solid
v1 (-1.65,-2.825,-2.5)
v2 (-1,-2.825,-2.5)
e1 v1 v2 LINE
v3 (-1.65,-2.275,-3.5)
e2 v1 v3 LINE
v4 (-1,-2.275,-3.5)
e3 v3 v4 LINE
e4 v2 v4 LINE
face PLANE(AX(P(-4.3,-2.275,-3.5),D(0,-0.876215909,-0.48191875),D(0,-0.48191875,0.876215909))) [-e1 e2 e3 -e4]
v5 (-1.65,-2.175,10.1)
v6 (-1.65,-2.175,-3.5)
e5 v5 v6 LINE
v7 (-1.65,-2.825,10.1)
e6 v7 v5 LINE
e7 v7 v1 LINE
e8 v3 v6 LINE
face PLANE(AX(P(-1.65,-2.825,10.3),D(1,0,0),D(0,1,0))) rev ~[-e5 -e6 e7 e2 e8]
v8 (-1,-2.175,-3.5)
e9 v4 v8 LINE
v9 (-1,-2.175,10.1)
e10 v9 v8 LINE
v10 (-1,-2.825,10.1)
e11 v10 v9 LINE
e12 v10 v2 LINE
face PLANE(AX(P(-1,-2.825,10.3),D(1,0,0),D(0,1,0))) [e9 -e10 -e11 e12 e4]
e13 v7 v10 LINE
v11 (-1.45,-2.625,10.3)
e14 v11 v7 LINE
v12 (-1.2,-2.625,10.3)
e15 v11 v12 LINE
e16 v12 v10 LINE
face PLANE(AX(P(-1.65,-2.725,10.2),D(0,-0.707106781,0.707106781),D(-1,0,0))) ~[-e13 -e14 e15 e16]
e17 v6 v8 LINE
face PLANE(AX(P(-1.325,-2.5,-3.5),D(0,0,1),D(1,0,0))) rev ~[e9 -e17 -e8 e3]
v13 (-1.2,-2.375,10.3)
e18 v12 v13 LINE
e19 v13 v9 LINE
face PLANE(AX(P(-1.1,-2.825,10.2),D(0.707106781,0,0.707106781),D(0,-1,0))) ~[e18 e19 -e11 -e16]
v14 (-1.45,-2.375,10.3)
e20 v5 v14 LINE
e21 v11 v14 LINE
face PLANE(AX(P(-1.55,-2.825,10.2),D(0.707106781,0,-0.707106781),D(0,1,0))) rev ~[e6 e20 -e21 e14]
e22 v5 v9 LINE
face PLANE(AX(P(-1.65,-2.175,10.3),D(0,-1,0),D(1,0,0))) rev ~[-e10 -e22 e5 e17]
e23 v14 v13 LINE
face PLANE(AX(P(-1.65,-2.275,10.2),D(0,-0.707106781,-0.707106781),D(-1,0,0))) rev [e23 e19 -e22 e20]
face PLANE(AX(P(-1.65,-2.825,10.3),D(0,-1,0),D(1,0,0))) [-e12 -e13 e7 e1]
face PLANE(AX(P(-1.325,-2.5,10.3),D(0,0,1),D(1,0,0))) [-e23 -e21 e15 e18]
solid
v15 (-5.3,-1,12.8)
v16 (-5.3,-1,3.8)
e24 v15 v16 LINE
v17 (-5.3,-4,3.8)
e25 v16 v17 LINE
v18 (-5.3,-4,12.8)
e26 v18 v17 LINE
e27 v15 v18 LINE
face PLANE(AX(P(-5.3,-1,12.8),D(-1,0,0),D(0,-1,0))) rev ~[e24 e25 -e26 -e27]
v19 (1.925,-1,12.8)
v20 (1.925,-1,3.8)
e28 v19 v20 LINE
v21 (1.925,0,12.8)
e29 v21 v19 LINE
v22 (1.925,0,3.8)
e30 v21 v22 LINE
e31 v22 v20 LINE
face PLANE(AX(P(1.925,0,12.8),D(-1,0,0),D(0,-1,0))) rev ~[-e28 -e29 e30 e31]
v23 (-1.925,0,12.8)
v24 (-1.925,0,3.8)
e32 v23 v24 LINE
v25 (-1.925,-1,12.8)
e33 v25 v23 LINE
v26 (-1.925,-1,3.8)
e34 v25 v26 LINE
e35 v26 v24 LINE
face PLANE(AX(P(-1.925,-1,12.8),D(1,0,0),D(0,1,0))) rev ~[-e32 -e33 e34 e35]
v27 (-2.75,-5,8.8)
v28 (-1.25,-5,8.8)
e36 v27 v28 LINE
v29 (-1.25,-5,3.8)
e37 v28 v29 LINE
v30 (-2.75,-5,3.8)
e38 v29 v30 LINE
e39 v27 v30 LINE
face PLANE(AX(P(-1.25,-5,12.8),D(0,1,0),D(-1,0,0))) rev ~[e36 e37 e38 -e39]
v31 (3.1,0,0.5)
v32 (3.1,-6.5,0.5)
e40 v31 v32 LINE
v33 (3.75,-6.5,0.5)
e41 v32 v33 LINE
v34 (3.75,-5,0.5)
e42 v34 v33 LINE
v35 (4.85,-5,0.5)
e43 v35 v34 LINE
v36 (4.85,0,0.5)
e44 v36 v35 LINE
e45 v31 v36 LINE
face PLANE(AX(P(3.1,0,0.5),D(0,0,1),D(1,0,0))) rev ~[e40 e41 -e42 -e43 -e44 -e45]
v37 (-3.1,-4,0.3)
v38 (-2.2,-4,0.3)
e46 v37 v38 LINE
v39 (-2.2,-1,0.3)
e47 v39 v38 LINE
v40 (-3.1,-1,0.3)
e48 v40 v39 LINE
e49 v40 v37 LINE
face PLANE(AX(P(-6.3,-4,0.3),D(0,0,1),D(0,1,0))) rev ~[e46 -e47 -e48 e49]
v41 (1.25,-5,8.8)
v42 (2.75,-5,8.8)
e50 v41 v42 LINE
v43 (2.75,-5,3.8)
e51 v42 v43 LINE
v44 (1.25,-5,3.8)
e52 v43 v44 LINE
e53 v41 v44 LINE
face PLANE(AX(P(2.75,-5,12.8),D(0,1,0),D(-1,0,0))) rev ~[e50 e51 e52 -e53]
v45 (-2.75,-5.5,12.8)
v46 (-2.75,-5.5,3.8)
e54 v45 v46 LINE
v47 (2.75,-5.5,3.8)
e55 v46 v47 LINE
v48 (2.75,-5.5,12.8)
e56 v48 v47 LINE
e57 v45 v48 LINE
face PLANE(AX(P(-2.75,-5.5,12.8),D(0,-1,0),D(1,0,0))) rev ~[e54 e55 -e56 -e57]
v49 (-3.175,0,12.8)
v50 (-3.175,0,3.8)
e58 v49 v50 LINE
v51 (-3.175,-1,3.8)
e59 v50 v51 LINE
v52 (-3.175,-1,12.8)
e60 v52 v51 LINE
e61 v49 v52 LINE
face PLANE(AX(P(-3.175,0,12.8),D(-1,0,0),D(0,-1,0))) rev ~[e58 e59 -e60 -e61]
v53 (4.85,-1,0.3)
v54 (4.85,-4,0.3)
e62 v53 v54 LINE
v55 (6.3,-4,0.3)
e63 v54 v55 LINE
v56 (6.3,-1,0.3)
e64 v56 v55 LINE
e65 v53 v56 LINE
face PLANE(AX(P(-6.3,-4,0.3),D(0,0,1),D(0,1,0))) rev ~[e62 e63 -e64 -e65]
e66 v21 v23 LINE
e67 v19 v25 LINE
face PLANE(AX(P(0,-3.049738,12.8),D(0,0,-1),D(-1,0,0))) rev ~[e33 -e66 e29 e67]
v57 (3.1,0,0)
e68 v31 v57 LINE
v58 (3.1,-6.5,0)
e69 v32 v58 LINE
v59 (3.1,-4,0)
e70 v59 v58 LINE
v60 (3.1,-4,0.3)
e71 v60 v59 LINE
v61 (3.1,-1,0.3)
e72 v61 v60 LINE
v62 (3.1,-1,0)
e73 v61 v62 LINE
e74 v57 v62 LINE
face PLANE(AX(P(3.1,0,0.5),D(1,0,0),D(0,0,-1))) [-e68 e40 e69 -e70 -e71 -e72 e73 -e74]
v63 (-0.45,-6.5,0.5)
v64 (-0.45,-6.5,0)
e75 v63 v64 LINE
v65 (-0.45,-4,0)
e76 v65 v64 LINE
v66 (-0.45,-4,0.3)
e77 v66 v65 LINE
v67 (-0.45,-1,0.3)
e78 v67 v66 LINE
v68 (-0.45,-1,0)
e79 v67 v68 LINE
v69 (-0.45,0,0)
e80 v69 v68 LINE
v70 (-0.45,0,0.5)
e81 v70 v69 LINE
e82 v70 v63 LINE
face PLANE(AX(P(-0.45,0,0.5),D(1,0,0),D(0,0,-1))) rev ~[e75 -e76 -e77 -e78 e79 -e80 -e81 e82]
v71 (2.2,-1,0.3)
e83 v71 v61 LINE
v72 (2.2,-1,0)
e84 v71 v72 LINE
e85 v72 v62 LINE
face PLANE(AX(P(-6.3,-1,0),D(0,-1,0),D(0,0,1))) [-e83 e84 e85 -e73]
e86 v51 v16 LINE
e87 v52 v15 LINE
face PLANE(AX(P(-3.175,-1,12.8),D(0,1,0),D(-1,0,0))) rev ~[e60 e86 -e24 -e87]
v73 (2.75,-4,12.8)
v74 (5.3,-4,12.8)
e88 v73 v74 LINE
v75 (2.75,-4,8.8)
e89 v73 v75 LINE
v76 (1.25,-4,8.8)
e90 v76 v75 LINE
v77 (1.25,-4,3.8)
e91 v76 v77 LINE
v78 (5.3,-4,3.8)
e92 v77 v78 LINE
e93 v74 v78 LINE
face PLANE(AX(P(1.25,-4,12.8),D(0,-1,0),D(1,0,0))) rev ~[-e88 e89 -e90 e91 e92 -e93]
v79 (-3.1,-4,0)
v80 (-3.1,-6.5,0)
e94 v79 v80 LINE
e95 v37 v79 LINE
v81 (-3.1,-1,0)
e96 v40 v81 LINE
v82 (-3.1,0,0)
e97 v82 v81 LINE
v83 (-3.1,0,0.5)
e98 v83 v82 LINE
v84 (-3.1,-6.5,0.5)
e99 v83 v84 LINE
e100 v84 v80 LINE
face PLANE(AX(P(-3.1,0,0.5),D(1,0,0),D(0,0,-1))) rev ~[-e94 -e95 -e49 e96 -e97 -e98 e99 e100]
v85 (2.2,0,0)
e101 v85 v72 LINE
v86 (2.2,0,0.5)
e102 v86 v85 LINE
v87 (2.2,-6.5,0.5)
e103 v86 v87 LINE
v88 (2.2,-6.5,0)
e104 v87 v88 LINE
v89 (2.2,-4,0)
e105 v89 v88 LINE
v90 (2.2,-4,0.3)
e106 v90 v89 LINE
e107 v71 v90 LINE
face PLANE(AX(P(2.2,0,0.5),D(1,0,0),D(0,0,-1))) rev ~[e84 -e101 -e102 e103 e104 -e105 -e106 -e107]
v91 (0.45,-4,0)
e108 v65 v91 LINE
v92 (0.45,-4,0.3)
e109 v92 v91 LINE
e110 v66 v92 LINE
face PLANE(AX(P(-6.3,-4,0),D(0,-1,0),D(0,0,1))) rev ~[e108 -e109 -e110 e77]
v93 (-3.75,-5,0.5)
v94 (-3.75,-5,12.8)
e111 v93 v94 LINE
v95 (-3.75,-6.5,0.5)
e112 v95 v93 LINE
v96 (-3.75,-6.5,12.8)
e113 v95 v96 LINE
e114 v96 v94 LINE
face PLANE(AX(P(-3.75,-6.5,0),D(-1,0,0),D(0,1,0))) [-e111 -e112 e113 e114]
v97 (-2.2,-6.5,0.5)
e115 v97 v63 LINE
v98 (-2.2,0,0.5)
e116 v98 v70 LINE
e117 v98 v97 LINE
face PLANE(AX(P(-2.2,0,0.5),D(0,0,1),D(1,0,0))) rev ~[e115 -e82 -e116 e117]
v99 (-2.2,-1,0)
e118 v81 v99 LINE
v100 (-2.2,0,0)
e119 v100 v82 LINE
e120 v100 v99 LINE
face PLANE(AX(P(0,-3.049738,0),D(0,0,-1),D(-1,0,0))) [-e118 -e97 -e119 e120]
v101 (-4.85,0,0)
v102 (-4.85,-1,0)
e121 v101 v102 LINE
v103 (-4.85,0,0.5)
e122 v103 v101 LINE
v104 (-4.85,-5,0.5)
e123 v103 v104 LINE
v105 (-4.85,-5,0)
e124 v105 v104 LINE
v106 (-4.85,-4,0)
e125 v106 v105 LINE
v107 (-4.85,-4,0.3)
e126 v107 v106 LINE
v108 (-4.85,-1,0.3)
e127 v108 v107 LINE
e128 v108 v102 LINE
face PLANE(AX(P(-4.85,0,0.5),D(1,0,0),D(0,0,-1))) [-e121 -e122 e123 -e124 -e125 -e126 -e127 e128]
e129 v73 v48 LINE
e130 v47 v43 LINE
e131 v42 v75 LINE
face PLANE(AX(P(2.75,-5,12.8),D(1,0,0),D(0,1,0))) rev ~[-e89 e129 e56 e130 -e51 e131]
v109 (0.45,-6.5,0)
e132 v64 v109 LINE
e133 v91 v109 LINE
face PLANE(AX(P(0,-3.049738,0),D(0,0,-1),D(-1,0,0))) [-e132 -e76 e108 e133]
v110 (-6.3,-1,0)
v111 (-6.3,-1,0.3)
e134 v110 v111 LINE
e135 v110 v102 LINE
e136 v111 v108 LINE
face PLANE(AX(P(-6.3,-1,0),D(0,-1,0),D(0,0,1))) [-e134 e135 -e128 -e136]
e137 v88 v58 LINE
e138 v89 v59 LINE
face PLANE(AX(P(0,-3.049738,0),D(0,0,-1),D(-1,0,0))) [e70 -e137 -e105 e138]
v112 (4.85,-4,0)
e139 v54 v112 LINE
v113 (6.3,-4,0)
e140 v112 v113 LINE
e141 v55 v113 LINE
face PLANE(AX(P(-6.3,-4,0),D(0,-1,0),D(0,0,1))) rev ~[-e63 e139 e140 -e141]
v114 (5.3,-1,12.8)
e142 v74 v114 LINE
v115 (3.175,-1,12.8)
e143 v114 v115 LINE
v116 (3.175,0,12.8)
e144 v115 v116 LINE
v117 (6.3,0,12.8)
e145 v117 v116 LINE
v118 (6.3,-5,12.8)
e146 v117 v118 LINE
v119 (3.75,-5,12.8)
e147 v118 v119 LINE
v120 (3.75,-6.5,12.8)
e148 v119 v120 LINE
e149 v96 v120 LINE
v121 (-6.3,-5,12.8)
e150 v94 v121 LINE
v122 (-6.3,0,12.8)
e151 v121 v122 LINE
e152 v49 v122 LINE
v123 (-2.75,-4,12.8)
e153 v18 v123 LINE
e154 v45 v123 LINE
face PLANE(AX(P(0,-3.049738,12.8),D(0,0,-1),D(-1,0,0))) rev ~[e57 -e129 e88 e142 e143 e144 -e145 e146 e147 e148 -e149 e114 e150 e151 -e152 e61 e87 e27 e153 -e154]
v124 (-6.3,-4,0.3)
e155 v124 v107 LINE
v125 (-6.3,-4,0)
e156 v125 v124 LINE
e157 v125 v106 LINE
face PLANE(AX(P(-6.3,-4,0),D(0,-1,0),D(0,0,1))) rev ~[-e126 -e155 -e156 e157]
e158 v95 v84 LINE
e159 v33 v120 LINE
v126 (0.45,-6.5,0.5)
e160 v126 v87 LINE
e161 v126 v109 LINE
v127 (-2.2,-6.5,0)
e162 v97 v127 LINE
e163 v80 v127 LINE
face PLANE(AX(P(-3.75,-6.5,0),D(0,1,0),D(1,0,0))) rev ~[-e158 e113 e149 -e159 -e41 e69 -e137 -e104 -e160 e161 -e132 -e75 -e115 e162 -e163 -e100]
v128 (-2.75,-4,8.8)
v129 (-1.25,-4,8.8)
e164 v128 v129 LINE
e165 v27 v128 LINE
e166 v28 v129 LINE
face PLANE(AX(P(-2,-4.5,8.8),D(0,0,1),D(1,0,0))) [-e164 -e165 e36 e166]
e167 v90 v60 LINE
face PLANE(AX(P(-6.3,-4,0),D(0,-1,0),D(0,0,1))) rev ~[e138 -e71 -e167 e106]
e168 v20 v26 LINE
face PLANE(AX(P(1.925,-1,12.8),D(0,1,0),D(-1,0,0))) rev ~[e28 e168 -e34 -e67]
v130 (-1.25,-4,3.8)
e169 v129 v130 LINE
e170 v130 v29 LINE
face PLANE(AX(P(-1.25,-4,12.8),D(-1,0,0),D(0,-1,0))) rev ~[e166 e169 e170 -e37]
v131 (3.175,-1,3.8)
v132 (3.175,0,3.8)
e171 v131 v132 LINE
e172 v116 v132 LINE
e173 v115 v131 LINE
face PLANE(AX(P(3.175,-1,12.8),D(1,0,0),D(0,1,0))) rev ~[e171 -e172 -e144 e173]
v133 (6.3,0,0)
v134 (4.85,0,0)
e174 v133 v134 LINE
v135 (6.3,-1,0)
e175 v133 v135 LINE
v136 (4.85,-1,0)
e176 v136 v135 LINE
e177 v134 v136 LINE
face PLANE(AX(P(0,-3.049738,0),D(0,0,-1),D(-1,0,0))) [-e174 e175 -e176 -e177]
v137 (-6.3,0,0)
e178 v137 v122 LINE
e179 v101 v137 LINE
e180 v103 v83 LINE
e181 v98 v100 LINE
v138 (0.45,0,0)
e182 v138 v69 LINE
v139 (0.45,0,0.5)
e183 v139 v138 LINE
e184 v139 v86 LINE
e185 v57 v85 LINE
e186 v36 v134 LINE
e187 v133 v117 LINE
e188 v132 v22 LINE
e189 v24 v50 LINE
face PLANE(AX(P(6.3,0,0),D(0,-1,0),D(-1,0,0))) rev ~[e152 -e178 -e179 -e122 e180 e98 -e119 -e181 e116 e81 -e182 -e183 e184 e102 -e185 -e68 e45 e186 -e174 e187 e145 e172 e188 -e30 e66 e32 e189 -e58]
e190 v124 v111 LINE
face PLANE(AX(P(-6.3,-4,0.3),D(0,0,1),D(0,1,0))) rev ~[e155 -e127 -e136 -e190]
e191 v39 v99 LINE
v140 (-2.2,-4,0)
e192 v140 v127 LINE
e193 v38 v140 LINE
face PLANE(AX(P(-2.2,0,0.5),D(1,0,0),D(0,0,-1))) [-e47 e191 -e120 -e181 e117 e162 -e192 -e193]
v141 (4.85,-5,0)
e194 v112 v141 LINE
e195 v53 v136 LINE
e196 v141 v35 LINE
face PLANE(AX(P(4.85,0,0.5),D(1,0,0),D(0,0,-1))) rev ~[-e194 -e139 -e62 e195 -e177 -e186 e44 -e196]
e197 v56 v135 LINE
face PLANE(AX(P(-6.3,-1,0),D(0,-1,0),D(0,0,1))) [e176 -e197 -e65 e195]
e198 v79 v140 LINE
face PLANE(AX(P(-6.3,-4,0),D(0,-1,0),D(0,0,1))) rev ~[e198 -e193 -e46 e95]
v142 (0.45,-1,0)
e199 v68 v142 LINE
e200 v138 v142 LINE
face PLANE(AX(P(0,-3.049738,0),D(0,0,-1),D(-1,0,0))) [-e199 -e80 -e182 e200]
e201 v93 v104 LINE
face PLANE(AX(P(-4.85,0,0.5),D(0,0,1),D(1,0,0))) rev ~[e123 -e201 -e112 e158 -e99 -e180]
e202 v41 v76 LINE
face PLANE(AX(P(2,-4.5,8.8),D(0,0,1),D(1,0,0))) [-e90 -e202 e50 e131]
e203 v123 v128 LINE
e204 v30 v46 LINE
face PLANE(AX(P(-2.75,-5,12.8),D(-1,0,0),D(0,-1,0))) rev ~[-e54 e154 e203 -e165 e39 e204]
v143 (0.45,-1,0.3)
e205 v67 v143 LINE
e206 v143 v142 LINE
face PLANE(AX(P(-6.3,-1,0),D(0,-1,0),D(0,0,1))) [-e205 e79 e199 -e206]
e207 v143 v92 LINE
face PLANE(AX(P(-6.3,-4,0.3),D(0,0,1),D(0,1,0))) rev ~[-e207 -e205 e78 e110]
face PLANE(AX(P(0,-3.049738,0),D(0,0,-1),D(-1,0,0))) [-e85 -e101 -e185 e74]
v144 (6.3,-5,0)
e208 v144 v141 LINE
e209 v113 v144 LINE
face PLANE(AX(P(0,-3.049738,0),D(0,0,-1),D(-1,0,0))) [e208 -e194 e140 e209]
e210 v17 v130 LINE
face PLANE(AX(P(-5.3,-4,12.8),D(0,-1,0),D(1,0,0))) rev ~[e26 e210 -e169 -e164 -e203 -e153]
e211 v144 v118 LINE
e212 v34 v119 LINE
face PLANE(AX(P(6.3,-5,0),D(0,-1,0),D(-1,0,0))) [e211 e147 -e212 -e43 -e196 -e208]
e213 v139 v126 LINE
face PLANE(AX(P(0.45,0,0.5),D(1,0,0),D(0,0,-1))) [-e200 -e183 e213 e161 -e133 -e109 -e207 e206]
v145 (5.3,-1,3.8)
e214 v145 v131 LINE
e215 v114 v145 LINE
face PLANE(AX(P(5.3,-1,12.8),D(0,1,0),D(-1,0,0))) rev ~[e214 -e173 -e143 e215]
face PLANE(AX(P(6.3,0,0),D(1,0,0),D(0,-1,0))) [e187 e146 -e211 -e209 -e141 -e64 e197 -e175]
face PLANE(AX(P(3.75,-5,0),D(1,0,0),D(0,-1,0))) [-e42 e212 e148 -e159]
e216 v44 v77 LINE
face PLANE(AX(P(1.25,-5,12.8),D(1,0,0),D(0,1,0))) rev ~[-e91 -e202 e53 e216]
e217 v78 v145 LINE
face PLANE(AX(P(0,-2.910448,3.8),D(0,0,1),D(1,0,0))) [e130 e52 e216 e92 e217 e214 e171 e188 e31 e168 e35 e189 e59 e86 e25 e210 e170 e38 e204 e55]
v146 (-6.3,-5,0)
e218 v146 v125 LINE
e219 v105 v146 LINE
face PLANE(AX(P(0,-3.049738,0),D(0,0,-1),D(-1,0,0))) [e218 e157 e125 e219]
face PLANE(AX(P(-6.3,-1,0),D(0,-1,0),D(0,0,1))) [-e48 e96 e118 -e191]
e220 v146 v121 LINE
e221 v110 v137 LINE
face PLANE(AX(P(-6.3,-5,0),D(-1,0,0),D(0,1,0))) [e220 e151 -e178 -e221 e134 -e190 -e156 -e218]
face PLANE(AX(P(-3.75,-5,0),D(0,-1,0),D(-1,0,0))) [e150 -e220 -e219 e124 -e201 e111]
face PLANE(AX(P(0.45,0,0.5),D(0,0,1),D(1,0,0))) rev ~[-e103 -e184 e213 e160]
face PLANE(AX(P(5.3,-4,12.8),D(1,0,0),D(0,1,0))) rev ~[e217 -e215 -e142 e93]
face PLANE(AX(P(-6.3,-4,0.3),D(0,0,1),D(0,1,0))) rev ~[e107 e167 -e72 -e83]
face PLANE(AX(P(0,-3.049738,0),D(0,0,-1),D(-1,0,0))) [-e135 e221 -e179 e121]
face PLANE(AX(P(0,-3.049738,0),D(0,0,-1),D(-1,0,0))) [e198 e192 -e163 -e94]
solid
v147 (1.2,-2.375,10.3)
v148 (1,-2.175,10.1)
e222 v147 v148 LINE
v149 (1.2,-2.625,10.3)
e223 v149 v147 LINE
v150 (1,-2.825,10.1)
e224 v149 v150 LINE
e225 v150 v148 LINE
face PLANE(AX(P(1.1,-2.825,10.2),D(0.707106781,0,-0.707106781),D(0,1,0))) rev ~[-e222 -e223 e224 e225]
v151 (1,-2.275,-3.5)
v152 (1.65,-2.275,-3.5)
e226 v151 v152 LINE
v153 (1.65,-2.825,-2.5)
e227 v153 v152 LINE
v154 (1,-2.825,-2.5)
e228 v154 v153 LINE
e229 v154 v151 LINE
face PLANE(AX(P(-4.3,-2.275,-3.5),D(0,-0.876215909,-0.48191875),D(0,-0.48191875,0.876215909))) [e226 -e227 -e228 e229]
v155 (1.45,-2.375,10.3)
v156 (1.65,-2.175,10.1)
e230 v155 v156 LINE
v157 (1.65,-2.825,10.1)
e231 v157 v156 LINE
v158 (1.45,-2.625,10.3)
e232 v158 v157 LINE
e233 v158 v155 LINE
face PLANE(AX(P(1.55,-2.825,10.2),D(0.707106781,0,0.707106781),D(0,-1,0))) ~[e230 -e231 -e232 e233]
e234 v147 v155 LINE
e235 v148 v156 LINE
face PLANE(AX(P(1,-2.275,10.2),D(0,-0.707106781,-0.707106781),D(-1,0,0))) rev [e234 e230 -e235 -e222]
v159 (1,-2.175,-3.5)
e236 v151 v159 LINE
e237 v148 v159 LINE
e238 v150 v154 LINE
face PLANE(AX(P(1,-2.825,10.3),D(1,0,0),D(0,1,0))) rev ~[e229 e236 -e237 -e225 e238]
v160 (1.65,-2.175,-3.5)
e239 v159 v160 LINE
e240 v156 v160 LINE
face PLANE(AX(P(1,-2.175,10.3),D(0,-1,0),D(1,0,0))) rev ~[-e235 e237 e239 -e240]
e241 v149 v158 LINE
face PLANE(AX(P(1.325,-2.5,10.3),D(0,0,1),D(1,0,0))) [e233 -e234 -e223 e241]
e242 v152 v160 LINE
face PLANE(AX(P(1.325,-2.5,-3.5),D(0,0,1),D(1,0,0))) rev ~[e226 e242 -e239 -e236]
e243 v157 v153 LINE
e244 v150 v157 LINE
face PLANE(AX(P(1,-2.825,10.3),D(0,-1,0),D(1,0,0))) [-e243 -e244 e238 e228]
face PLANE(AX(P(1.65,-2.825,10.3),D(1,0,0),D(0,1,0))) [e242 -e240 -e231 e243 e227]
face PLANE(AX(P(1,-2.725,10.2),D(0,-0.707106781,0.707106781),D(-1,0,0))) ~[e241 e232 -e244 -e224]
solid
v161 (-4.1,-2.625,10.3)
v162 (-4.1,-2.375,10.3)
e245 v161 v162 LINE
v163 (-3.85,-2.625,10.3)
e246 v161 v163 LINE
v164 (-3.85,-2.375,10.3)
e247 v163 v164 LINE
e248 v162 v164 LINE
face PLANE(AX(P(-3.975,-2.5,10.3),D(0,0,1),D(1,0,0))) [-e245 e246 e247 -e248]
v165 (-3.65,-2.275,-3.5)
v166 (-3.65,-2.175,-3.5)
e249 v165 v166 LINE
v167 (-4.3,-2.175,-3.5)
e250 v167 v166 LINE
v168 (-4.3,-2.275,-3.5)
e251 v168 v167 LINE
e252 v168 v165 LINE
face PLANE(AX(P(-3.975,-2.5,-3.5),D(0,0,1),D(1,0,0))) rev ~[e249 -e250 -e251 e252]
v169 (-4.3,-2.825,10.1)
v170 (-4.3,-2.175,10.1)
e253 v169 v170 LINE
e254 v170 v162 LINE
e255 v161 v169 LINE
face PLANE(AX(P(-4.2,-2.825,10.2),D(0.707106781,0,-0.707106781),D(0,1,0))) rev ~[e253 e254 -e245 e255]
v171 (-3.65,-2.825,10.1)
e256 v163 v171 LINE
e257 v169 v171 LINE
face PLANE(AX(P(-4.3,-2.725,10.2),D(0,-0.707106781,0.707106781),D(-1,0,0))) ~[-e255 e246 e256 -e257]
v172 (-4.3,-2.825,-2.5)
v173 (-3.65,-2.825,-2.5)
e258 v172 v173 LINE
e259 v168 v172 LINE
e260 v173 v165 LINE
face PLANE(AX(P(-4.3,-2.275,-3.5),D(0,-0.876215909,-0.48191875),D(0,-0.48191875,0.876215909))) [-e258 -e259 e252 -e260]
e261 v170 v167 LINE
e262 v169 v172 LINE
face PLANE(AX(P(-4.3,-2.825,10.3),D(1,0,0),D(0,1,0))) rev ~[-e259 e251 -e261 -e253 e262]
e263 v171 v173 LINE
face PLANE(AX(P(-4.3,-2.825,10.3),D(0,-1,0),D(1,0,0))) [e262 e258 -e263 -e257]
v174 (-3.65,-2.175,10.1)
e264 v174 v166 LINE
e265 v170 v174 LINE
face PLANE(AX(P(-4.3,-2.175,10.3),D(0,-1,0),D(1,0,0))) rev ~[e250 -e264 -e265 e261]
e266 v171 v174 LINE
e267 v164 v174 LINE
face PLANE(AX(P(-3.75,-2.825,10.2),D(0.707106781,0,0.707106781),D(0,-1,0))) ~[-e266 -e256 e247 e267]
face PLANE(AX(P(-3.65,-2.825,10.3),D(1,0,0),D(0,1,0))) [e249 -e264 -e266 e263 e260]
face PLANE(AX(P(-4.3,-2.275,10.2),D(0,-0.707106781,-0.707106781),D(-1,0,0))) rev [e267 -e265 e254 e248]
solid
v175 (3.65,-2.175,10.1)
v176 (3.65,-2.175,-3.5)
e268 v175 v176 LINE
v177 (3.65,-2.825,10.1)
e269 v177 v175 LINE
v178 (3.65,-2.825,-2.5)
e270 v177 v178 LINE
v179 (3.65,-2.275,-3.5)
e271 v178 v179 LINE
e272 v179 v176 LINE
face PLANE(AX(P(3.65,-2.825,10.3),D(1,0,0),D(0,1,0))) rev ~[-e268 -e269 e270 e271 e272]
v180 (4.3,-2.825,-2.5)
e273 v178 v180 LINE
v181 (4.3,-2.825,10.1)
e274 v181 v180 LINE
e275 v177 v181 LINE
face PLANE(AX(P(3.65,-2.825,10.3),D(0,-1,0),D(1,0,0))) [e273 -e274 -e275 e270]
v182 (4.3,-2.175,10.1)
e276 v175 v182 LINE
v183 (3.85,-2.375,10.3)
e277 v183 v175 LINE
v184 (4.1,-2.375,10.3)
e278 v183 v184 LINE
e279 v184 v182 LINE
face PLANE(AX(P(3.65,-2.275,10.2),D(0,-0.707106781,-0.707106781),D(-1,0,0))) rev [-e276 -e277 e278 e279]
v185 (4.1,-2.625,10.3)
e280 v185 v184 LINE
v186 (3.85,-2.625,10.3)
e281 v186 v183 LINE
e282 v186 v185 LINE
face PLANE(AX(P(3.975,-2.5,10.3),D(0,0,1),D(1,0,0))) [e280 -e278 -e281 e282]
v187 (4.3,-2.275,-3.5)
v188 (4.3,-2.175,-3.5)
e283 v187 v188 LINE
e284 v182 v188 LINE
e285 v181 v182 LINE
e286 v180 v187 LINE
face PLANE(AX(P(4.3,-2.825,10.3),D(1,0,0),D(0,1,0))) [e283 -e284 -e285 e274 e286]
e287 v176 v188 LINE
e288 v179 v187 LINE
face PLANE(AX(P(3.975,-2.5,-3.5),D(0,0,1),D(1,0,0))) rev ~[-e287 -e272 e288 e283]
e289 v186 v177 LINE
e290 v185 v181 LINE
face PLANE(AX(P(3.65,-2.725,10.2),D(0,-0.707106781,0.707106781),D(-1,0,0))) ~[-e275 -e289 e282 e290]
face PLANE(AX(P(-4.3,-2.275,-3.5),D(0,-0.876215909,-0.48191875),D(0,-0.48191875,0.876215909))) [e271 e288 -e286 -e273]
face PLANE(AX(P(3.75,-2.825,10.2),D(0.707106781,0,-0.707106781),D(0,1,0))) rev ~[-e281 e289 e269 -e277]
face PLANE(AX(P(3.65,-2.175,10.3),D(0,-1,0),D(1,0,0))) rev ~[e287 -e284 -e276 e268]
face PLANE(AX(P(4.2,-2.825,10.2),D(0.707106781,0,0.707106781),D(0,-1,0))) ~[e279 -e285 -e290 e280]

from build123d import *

# Parameters (mm, degrees)
BOSS_EXTRUDE1_DEPTH   = 12.8
CUT_EXTRUDE2_DEPTH    = 9
SKETCH5_W             = 1.5
SKETCH5_H             = 1
CUT_EXTRUDE3_DEPTH    = 4
SKETCH6_W             = 0.65
SKETCH6_H             = 0.65
BOSS_EXTRUDE3_DEPTH   = 13.8
BOSS_EXTRUDE3_2_DEPTH = 13.8
BOSS_EXTRUDE3_3_DEPTH = 13.8
BOSS_EXTRUDE3_4_DEPTH = 13.8
SKETCH7_W             = 1.75
SKETCH7_H             = 0.5
CUT_EXTRUDE5_DEPTH    = 7.5
SKETCH8_W             = 0.3
SKETCH8_H             = 3
CUT_EXTRUDE6_DEPTH    = 13.6
CUT_EXTRUDE7_DEPTH    = 11.6
CHAMFER1_SIZE         = 0.2
CHAMFER2_SIZE         = 0.2
CHAMFER3_SIZE         = 0.2
CHAMFER4_SIZE         = 0.2


with BuildPart() as part:
    # Sketch1 → Boss-Extrude1 (new body)
    with BuildSketch(Plane.XY):
        Polygon((0, 0), (6.3, 0), (6.3, -5), (3.75, -5), (3.75, -6.5), (0, -6.5), (-3.75, -6.5), (-3.75, -5), (-6.3, -5), (-6.3, 0), align=None)
    extrude(amount=BOSS_EXTRUDE1_DEPTH)

    # Sketch4 → Cut-Extrude2 (cut)
    with BuildSketch(Plane.XY.offset(12.8)):
        Polygon((-2.75, -4), (-1.25, -4), (-1.25, -5), (-2.75, -5), (-2.75, -5.5), (2.75, -5.5), (2.75, -5), (1.25, -5), (1.25, -4), (2.75, -4), (5.3, -4), (5.3, -1), (3.175, -1), (3.175, 0), (1.925, 0), (1.925, -1), (-1.925, -1), (-1.925, 0), (-3.175, 0), (-3.175, -1), (-5.3, -1), (-5.3, -4), align=None)
    extrude(amount=-CUT_EXTRUDE2_DEPTH, mode=Mode.SUBTRACT)

    # Sketch5 → Cut-Extrude3 (cut)
    with BuildSketch(Plane.XY.offset(12.8)):
        with Locations((-2, -4.5)):
            Rectangle(SKETCH5_W, SKETCH5_H)
        with Locations((2, -4.5)):
            Rectangle(SKETCH5_W, SKETCH5_H)
    extrude(amount=-CUT_EXTRUDE3_DEPTH, mode=Mode.SUBTRACT)

    # Sketch7 → Cut-Extrude5 (cut, through all)
    with BuildSketch(Plane(origin=(0, 0, 0), x_dir=(1, 0, 0), z_dir=(0, 1, 0))):
        with Locations((-3.975, -0.25)):
            Rectangle(SKETCH7_W, SKETCH7_H)
        with Locations((-1.325, -0.25)):
            Rectangle(SKETCH7_W, SKETCH7_H)
        with Locations((1.325, -0.25)):
            Rectangle(SKETCH7_W, SKETCH7_H)
        with Locations((3.975, -0.25)):
            Rectangle(SKETCH7_W, SKETCH7_H)
    extrude(amount=-CUT_EXTRUDE5_DEPTH, mode=Mode.SUBTRACT)

    # Sketch8 → Cut-Extrude6 (cut, through all)
    with BuildSketch(Plane.ZY.offset(6.3)):
        with Locations((0.15, -2.5)):
            Rectangle(SKETCH8_W, SKETCH8_H)
    extrude(amount=-CUT_EXTRUDE6_DEPTH, mode=Mode.SUBTRACT)


with BuildPart() as body_2:
    # Sketch6 → Boss-Extrude3 (new body)
    with BuildSketch(Plane.XY.offset(10.3)):
        with Locations((1.325, -2.5)):
            Rectangle(SKETCH6_W, SKETCH6_H)
    extrude(amount=-BOSS_EXTRUDE3_DEPTH)


with BuildPart() as body_3:
    # Sketch6 → Boss-Extrude3 2 (new body)
    with BuildSketch(Plane.XY.offset(10.3)):
        with Locations((3.975, -2.5)):
            Rectangle(SKETCH6_W, SKETCH6_H)
    extrude(amount=-BOSS_EXTRUDE3_2_DEPTH)


with BuildPart() as body_4:
    # Sketch6 → Boss-Extrude3 3 (new body)
    with BuildSketch(Plane.XY.offset(10.3)):
        with Locations((-3.975, -2.5)):
            Rectangle(SKETCH6_W, SKETCH6_H)
    extrude(amount=-BOSS_EXTRUDE3_3_DEPTH)


with BuildPart() as body_5:
    # Sketch6 → Boss-Extrude3 4 (new body)
    with BuildSketch(Plane.XY.offset(10.3)):
        with Locations((-1.325, -2.5)):
            Rectangle(SKETCH6_W, SKETCH6_H)
    extrude(amount=-BOSS_EXTRUDE3_4_DEPTH)


with BuildPart() as cut_extrude7_tool:
    # Sketch9 → Cut-Extrude7 (new body, through all)
    with BuildSketch(Plane.ZY.offset(4.3)):
        Polygon((-3.5, -2.275), (-2.5, -2.825), (-3.5, -2.825), align=None)
    extrude(amount=-CUT_EXTRUDE7_DEPTH)


with BuildPart() as body_2_1:
    add(body_2.part)

    # Cut-Extrude7: cut by cut_extrude7_tool
    add(cut_extrude7_tool.part, mode=Mode.SUBTRACT)

    # Chamfer3
    chamfer3_edges = [body_2_1.edges().sort_by_distance(p)[0] for p in [
        (1.325, -2.175, 10.3),
        (1.65, -2.5, 10.3),
        (1.325, -2.825, 10.3),
        (1, -2.5, 10.3),
    ]]
    chamfer(chamfer3_edges, length=CHAMFER3_SIZE)


with BuildPart() as body_3_1:
    add(body_3.part)

    # Cut-Extrude7: cut by cut_extrude7_tool
    add(cut_extrude7_tool.part, mode=Mode.SUBTRACT)

    # Chamfer4
    chamfer4_edges = [body_3_1.edges().sort_by_distance(p)[0] for p in [
        (3.975, -2.175, 10.3),
        (4.3, -2.5, 10.3),
        (3.975, -2.825, 10.3),
        (3.65, -2.5, 10.3),
    ]]
    chamfer(chamfer4_edges, length=CHAMFER4_SIZE)


with BuildPart() as body_4_1:
    add(body_4.part)

    # Cut-Extrude7: cut by cut_extrude7_tool
    add(cut_extrude7_tool.part, mode=Mode.SUBTRACT)

    # Chamfer2
    chamfer2_edges = [body_4_1.edges().sort_by_distance(p)[0] for p in [
        (-3.975, -2.825, 10.3),
        (-4.3, -2.5, 10.3),
        (-3.975, -2.175, 10.3),
        (-3.65, -2.5, 10.3),
    ]]
    chamfer(chamfer2_edges, length=CHAMFER2_SIZE)


with BuildPart() as body_5_1:
    add(body_5.part)

    # Cut-Extrude7: cut by cut_extrude7_tool
    add(cut_extrude7_tool.part, mode=Mode.SUBTRACT)

    # Chamfer1
    chamfer1_edges = [body_5_1.edges().sort_by_distance(p)[0] for p in [
        (-1.325, -2.825, 10.3),
        (-1.65, -2.5, 10.3),
        (-1.325, -2.175, 10.3),
        (-1, -2.5, 10.3),
    ]]
    chamfer(chamfer1_edges, length=CHAMFER1_SIZE)


solid = Compound([part.part, body_2_1.part, body_3_1.part, body_4_1.part, body_5_1.part])
